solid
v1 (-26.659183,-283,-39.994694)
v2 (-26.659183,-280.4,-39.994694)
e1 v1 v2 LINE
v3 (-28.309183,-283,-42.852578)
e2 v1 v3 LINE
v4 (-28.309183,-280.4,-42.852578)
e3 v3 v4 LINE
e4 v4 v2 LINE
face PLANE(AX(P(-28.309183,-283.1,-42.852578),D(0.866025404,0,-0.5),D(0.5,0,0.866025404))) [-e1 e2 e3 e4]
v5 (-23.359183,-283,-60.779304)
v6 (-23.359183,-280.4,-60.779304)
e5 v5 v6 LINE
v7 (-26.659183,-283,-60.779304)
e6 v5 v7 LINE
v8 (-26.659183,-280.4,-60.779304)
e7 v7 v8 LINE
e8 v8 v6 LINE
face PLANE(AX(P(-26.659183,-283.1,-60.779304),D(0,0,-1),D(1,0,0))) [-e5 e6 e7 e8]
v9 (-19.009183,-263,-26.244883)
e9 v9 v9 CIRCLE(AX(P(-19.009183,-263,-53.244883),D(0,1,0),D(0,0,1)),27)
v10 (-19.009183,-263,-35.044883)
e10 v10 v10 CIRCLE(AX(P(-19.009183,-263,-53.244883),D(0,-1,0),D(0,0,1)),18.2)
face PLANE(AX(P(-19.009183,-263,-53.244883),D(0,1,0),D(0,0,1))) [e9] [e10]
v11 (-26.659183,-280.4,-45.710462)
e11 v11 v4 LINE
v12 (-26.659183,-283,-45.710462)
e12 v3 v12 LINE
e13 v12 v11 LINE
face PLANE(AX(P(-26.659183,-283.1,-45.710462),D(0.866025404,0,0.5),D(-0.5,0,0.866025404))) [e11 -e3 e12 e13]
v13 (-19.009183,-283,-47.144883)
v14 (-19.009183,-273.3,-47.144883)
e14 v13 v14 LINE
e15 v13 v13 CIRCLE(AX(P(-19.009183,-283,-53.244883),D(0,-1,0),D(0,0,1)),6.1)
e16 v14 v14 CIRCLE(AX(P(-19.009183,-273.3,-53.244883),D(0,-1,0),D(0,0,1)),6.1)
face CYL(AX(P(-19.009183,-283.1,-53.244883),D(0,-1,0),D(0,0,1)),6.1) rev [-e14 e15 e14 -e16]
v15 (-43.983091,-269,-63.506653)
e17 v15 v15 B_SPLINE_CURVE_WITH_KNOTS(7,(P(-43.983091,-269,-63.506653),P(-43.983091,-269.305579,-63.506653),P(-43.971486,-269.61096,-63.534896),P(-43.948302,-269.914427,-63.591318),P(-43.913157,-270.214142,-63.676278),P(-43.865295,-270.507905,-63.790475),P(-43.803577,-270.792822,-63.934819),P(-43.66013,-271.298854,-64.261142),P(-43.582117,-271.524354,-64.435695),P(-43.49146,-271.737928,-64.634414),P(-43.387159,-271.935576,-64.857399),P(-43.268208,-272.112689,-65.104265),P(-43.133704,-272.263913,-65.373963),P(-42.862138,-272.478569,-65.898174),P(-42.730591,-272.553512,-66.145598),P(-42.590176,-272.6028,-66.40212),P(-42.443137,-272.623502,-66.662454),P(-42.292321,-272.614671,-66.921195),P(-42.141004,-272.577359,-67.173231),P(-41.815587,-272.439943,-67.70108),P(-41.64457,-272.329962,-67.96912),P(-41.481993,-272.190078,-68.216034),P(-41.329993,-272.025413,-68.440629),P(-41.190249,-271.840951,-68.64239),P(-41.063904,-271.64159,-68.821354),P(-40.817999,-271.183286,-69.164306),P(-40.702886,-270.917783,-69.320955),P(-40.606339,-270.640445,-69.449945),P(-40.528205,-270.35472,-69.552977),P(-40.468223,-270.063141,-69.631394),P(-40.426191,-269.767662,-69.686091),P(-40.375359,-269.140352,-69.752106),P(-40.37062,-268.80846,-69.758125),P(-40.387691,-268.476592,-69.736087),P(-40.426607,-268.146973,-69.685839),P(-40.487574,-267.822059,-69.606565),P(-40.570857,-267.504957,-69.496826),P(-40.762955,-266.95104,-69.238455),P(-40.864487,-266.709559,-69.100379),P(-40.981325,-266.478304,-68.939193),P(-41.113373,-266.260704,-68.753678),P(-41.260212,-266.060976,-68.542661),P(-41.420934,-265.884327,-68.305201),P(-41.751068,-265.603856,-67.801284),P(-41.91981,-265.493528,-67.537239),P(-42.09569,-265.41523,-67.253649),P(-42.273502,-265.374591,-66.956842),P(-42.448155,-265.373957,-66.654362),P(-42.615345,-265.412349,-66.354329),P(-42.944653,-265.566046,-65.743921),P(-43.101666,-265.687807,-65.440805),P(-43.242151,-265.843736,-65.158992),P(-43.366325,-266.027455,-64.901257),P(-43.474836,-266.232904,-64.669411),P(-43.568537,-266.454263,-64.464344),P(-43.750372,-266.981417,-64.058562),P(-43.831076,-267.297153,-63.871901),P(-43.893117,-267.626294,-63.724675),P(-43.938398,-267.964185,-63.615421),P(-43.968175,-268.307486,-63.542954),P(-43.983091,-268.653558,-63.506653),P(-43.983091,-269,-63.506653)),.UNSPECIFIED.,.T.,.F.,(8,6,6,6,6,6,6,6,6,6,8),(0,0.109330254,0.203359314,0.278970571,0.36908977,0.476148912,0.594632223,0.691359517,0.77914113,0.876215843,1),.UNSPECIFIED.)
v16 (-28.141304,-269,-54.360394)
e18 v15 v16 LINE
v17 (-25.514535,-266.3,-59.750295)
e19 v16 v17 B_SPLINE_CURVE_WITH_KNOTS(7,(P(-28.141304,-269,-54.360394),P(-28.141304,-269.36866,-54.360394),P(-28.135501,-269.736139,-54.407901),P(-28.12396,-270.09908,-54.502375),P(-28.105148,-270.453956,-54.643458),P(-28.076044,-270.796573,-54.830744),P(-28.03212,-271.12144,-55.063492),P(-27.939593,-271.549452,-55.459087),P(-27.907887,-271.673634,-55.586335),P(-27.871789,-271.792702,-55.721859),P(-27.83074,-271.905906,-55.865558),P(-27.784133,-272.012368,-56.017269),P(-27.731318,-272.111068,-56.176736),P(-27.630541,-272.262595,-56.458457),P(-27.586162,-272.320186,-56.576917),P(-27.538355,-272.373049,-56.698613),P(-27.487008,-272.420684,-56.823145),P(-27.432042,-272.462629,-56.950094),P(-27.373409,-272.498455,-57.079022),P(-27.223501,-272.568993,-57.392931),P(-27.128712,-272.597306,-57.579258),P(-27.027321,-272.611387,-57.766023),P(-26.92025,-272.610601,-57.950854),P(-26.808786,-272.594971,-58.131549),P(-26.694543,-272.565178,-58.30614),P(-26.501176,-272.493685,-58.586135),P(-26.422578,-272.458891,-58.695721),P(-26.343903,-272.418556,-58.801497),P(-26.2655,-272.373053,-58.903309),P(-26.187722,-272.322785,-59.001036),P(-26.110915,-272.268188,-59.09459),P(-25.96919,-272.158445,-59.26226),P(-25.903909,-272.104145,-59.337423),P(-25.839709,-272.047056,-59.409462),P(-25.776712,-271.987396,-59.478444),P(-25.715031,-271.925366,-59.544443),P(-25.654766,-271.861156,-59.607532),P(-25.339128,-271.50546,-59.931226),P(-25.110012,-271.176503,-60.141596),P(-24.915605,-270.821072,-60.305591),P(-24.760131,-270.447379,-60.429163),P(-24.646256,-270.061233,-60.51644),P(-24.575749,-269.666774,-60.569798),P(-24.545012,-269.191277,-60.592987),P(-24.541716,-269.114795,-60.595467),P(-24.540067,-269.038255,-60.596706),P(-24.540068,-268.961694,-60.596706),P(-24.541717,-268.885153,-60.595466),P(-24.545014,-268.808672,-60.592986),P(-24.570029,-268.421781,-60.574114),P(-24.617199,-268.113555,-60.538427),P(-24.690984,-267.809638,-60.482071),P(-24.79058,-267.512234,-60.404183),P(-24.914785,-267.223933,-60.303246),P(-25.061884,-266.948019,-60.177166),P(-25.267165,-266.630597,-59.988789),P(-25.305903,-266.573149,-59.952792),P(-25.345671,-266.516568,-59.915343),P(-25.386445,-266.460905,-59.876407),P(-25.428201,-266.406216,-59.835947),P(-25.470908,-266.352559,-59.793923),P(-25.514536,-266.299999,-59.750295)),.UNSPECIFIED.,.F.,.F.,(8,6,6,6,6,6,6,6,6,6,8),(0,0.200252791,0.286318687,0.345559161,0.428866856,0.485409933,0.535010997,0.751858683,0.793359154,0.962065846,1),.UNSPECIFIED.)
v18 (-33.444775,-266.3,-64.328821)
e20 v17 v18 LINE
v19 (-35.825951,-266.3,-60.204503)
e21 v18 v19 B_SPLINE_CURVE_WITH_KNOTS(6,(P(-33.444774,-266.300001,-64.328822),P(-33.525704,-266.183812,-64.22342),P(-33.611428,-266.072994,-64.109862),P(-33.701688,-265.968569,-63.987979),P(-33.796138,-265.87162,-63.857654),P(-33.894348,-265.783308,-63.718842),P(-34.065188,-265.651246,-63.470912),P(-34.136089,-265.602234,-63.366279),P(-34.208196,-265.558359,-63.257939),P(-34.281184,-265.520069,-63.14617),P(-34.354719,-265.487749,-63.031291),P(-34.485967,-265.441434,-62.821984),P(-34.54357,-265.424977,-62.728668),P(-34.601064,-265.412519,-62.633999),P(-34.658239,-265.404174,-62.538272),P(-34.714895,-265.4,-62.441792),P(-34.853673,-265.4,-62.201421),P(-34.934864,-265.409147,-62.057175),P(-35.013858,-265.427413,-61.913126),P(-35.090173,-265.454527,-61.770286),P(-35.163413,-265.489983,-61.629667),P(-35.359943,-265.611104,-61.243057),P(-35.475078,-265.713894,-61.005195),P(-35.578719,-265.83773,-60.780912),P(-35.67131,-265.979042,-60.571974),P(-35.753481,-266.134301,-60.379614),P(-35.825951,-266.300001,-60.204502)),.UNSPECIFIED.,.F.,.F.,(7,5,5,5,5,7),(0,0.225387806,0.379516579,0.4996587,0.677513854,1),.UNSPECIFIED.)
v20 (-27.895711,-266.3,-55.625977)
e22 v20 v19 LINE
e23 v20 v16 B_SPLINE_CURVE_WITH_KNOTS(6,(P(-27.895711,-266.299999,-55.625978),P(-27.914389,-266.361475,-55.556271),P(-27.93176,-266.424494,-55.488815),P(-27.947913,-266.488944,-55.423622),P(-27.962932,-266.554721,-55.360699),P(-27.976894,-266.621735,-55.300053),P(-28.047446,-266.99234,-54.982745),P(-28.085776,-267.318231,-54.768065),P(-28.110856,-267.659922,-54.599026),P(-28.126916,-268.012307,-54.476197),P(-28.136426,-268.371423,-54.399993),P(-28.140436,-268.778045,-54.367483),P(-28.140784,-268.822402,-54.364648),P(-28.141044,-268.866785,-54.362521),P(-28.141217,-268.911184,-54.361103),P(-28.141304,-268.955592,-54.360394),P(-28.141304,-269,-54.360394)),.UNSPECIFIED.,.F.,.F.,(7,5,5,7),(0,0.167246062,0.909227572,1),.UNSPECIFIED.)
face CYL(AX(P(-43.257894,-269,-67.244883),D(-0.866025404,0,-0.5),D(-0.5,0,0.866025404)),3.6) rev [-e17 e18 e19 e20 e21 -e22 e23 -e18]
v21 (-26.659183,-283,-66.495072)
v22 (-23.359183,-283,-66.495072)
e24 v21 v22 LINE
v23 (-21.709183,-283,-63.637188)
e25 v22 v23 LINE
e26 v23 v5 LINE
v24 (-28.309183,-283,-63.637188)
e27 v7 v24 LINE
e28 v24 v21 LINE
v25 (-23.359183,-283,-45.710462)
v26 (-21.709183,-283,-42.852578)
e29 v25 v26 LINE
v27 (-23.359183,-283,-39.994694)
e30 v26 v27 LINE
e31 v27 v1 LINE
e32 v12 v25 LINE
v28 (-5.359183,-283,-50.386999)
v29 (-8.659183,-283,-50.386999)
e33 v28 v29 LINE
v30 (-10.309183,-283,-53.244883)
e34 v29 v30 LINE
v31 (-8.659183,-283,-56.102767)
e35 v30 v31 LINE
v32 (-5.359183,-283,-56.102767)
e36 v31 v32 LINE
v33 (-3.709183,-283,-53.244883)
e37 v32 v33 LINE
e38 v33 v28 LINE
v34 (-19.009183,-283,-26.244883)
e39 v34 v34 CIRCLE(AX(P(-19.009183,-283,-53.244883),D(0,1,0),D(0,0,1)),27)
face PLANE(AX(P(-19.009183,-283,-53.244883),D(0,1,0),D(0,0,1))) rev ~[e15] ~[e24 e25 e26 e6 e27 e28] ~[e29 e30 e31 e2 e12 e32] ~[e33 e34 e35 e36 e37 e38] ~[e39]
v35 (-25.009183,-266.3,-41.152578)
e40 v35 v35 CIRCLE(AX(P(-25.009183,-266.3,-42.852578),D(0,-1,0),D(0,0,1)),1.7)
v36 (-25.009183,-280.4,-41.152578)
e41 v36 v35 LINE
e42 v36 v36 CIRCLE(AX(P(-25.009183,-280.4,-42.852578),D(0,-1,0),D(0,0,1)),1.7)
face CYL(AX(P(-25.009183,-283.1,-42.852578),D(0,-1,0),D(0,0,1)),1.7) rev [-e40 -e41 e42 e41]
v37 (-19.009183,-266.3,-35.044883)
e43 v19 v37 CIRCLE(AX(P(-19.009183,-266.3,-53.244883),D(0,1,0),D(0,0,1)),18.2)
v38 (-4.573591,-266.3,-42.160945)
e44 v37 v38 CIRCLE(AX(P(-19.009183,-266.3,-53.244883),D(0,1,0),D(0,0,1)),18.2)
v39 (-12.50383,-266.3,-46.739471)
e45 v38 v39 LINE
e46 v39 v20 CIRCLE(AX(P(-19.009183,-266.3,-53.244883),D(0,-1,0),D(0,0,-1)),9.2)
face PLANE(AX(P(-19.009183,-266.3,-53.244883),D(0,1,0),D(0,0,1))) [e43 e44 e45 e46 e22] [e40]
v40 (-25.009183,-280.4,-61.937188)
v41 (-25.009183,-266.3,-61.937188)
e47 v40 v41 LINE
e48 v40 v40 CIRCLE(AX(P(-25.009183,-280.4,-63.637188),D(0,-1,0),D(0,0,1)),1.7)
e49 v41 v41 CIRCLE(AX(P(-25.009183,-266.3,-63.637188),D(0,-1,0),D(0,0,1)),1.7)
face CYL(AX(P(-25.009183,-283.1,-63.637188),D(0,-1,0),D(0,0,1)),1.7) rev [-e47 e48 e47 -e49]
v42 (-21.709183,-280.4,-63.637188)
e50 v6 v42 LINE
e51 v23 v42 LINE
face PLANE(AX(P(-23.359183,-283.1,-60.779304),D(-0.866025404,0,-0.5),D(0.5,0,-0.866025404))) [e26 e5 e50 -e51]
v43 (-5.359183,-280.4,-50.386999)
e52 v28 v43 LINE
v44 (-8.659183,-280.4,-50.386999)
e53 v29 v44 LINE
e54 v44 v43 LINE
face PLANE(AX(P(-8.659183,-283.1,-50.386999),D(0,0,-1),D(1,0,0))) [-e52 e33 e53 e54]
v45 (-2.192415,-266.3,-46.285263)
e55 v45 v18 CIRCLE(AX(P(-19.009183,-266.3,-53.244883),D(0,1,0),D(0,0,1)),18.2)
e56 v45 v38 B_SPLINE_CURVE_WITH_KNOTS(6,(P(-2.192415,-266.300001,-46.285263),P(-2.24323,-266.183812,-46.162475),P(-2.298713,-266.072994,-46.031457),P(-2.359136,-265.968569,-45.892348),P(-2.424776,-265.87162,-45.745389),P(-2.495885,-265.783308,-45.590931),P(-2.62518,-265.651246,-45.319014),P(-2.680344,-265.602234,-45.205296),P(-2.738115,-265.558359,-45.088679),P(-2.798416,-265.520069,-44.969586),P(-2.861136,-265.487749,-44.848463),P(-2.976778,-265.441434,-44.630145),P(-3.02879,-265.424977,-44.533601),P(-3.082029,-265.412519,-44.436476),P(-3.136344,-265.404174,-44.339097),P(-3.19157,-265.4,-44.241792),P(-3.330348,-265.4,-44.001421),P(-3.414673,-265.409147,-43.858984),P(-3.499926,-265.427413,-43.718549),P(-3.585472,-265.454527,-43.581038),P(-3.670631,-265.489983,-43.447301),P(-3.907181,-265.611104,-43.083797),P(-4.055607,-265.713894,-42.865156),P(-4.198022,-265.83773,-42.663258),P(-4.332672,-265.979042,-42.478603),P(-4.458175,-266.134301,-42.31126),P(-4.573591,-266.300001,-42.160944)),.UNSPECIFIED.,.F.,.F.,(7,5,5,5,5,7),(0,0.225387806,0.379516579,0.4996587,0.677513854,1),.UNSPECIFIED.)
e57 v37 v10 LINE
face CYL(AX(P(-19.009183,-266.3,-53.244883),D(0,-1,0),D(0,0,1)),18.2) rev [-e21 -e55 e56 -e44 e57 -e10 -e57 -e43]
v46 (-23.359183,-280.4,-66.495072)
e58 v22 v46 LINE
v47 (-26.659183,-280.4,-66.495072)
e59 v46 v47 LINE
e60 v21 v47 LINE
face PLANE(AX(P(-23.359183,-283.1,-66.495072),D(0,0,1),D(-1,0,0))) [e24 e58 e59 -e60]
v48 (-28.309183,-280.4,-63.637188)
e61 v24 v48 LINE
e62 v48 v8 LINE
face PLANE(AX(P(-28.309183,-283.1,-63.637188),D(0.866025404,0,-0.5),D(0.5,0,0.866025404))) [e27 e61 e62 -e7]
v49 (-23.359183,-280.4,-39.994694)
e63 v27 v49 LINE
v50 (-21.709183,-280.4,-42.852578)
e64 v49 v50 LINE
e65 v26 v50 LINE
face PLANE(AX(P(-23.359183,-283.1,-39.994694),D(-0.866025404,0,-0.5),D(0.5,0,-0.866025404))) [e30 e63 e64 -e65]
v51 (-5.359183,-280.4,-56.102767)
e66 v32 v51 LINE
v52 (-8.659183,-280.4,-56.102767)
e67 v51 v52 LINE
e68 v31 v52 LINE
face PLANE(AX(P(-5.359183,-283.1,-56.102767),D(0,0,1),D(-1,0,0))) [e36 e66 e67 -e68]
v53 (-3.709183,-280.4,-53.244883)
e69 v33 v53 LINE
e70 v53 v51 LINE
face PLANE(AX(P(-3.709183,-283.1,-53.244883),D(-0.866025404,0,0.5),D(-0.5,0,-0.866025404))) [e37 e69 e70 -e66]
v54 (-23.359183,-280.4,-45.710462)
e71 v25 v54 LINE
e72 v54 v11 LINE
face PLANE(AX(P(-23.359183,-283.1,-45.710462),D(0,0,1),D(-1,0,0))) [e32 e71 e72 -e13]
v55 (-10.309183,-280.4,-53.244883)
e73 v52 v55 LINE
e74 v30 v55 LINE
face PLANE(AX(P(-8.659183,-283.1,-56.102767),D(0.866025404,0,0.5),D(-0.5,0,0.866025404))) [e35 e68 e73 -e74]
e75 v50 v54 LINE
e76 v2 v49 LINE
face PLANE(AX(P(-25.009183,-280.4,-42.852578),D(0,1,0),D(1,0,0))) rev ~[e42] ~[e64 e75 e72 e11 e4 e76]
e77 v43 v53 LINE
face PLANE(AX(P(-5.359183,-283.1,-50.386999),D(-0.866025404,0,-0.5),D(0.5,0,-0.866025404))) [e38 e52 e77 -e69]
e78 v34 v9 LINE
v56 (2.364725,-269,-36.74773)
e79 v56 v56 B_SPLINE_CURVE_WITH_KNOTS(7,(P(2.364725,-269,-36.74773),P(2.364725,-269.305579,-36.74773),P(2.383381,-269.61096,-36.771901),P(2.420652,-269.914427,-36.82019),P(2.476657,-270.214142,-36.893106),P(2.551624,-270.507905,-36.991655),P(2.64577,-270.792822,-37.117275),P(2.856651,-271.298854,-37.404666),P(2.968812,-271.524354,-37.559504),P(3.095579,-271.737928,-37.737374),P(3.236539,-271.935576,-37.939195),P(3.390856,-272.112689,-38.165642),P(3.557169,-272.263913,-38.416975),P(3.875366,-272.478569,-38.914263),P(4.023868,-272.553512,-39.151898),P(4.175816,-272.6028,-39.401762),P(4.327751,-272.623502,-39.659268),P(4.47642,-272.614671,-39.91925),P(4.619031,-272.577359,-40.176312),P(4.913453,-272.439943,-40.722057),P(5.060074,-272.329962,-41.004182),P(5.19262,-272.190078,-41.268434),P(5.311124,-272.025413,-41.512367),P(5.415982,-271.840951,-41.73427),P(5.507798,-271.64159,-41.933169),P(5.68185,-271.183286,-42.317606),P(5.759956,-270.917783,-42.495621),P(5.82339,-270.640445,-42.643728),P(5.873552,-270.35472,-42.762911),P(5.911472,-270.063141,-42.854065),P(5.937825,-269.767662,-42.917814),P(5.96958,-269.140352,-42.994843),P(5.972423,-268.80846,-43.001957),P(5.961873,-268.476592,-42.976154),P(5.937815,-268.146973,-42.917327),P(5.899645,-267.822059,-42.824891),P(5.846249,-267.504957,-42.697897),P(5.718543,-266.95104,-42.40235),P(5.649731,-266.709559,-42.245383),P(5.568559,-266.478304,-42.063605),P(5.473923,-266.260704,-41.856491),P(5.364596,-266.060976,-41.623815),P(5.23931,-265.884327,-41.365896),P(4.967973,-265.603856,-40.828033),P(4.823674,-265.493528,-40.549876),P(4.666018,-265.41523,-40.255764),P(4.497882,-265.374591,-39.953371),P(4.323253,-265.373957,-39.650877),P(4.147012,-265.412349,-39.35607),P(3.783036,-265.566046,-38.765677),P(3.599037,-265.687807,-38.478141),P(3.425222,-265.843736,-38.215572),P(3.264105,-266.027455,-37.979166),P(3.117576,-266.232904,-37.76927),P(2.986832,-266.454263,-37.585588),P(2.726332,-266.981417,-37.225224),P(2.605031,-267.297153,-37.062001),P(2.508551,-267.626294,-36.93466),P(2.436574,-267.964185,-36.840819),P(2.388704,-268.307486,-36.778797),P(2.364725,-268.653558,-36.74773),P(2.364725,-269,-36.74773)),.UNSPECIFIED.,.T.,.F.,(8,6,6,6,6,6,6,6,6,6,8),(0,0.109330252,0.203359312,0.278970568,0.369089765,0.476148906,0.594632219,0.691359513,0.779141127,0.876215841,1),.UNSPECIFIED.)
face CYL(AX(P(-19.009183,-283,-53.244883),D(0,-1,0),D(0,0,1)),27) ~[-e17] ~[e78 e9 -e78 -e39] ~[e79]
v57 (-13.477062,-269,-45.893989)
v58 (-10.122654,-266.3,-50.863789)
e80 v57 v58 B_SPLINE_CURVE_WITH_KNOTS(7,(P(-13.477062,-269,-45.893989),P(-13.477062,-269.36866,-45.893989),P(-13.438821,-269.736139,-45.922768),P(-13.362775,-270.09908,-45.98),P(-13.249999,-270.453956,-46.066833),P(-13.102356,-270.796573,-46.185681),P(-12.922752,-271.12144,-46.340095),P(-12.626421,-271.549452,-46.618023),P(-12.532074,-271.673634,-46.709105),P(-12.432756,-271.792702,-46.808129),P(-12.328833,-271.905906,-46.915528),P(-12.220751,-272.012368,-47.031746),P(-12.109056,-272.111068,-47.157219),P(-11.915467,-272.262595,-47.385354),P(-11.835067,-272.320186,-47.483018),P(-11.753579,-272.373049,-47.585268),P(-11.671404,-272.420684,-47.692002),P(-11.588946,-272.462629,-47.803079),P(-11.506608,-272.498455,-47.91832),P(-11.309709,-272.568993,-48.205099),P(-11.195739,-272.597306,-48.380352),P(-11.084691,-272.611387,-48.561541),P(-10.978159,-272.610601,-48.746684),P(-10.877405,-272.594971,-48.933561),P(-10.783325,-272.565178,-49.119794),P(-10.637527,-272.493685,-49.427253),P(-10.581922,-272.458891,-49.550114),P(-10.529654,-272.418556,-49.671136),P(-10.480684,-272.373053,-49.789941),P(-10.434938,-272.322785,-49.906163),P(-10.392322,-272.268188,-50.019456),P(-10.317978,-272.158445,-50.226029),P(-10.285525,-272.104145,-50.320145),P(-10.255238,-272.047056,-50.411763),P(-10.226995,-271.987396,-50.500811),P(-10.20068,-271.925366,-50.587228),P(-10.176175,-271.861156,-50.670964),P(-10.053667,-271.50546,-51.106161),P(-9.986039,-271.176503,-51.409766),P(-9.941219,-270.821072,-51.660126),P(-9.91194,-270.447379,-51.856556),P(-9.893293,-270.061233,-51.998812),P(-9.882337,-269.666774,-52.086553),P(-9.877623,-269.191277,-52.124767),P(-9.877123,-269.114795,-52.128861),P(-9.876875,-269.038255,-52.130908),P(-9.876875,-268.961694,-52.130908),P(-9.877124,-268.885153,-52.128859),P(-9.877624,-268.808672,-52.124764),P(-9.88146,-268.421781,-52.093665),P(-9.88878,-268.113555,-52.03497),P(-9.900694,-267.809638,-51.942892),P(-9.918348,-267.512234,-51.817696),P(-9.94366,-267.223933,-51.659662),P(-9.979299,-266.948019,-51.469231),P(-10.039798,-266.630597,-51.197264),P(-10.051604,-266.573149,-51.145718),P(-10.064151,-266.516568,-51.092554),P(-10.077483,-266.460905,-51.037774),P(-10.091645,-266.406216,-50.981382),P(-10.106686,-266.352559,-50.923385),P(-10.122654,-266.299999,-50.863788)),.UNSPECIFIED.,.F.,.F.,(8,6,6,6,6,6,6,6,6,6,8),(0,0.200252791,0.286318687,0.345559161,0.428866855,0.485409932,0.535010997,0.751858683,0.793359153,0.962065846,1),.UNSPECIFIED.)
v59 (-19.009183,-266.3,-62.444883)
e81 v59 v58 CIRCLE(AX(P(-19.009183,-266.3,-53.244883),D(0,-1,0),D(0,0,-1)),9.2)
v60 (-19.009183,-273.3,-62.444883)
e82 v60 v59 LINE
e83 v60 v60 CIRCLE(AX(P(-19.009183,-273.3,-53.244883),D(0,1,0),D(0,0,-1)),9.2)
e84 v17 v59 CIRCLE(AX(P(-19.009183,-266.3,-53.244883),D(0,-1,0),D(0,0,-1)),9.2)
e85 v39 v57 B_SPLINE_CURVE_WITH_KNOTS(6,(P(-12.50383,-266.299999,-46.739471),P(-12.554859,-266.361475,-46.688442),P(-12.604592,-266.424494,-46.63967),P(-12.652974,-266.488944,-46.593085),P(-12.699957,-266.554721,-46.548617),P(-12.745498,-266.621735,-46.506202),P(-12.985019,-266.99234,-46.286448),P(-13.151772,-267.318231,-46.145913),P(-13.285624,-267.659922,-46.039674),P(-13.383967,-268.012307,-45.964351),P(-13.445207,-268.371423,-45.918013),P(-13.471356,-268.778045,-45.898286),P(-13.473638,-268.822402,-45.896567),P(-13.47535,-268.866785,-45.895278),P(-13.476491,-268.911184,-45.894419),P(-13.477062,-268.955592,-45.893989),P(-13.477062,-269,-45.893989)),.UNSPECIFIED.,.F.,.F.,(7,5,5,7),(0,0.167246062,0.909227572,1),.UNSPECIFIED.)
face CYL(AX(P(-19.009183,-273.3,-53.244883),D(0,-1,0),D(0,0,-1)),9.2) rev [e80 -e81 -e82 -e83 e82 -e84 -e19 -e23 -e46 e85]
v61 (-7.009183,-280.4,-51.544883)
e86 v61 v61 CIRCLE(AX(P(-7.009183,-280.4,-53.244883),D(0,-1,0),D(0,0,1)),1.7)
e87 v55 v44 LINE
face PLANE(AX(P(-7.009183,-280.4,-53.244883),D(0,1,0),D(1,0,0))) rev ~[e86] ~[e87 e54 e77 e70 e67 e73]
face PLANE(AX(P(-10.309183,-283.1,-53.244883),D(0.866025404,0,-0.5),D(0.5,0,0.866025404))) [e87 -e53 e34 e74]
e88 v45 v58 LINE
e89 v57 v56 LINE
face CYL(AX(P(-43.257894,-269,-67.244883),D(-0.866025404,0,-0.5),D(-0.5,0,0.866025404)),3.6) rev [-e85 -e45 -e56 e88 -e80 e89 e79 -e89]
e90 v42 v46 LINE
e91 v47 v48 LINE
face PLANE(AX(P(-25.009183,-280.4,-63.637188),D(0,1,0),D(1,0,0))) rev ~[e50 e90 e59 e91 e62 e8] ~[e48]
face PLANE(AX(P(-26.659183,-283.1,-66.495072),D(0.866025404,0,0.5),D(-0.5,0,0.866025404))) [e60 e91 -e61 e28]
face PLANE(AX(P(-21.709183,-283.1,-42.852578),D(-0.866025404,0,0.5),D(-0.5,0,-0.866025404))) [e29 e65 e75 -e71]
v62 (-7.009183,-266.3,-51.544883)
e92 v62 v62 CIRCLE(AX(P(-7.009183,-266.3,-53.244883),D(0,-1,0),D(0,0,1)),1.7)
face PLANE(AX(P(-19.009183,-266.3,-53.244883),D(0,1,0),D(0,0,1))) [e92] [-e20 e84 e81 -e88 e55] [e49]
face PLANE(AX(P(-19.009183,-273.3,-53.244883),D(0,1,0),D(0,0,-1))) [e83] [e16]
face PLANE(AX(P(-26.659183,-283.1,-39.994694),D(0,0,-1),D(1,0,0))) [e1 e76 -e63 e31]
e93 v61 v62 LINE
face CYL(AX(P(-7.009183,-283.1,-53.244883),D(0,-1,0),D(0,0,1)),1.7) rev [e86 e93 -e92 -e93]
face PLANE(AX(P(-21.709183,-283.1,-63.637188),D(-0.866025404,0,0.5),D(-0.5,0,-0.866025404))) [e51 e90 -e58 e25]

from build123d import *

# Parameters (mm, degrees)
TYRE_SEAT_BLANK_SKETCH_R        = 27
TYRE_SEAT_BLANK_DEPTH           = 20
AXLE_CLEARANCE_SKETCH_R         = 6.1
AXLE_CLEARANCE_DEPTH            = 20.2
HUB_NECK_SOCKET_SKETCH_R        = 9.2
HUB_NECK_SOCKET_DEPTH           = 10.5
HUB_FLANGE_SOCKET_SKETCH_R      = 18.2
HUB_FLANGE_SOCKET_DEPTH         = 3.5
RIM_BOLT_PATTERN_SKETCH_R       = 1.7
RIM_BOLT_PATTERN_DEPTH          = 20.2
RIM_NUT_POCKETS_DEPTH           = 2.7
HUB_PIN_SERVICE_WINDOW_SKETCH_R = 3.6
HUB_PIN_SERVICE_WINDOW_DEPTH    = 56


with BuildPart() as part:
    # Tyre seat blank sketch → Tyre seat blank (new body)
    with BuildSketch(Plane(origin=(0, -283, 0), x_dir=(1, 0, 0), z_dir=(0, 1, 0))):
        with Locations(Location((-19.009182883, 53.244882879, 0), (0, 0, 270))):
            Circle(TYRE_SEAT_BLANK_SKETCH_R)
    extrude(amount=TYRE_SEAT_BLANK_DEPTH)

    # Axle clearance sketch → Axle clearance (cut)
    with BuildSketch(Plane(origin=(0, -283.1, 0), x_dir=(1, 0, 0), z_dir=(0, 1, 0))):
        with Locations(Location((-19.009182883, 53.244882879, 0), (0, 0, 270))):
            Circle(AXLE_CLEARANCE_SKETCH_R)
    extrude(amount=AXLE_CLEARANCE_DEPTH, mode=Mode.SUBTRACT)

    # Hub neck socket sketch → Hub neck socket (cut)
    with BuildSketch(Plane(origin=(0, -273.3, 0), x_dir=(1, 0, 0), z_dir=(0, 1, 0))):
        with Locations(Location((-19.009182883, 53.244882879, 0), (0, 0, 90))):
            Circle(HUB_NECK_SOCKET_SKETCH_R)
    extrude(amount=HUB_NECK_SOCKET_DEPTH, mode=Mode.SUBTRACT)

    # Hub flange socket sketch → Hub flange socket (cut)
    with BuildSketch(Plane(origin=(0, -266.3, 0), x_dir=(1, 0, 0), z_dir=(0, 1, 0))):
        with Locations(Location((-19.009182883, 53.244882879, 0), (0, 0, 270))):
            Circle(HUB_FLANGE_SOCKET_SKETCH_R)
    extrude(amount=HUB_FLANGE_SOCKET_DEPTH, mode=Mode.SUBTRACT)

    # Rim bolt pattern sketch → Rim bolt pattern (cut)
    with BuildSketch(Plane(origin=(0, -283.1, 0), x_dir=(1, 0, 0), z_dir=(0, 1, 0))):
        with Locations(Location((-7.009182883, 53.244882879, 0), (0, 0, 270))):
            Circle(RIM_BOLT_PATTERN_SKETCH_R)
        with Locations(Location((-25.009182883, 42.852578033, 0), (0, 0, 270))):
            Circle(RIM_BOLT_PATTERN_SKETCH_R)
        with Locations(Location((-25.009182883, 63.637187724, 0), (0, 0, 270))):
            Circle(RIM_BOLT_PATTERN_SKETCH_R)
    extrude(amount=RIM_BOLT_PATTERN_DEPTH, mode=Mode.SUBTRACT)

    # Rim nut pockets sketch → Rim nut pockets (cut)
    with BuildSketch(Plane(origin=(0, -283.1, 0), x_dir=(1, 0, 0), z_dir=(0, 1, 0))):
        Polygon((-3.709182883, 53.244882879), (-5.359182883, 56.102766711), (-8.659182883, 56.102766711), (-10.309182883, 53.244882879), (-8.659182883, 50.386999046), (-5.359182883, 50.386999046), align=None)
        Polygon((-21.709182883, 42.852578033), (-23.359182883, 45.710461866), (-26.659182883, 45.710461866), (-28.309182883, 42.852578033), (-26.659182883, 39.994694201), (-23.359182883, 39.994694201), align=None)
        Polygon((-21.709182883, 63.637187724), (-23.359182883, 66.495071557), (-26.659182883, 66.495071557), (-28.309182883, 63.637187724), (-26.659182883, 60.779303892), (-23.359182883, 60.779303892), align=None)
    extrude(amount=RIM_NUT_POCKETS_DEPTH, mode=Mode.SUBTRACT)

    # Hub pin service window sketch → Hub pin service window (cut)
    with BuildSketch(Plane(origin=(-61.561309066, 0, -35.542438361), x_dir=(0.4999999999999994, 0, -0.866025403784439), z_dir=(0.866025403784439, 0, 0.4999999999999994))):
        with Locations(Location((36.606829753, -269, 0), (0, 0, 180))):
            Circle(HUB_PIN_SERVICE_WINDOW_SKETCH_R)
    extrude(amount=HUB_PIN_SERVICE_WINDOW_DEPTH, mode=Mode.SUBTRACT)


solid = part.part
